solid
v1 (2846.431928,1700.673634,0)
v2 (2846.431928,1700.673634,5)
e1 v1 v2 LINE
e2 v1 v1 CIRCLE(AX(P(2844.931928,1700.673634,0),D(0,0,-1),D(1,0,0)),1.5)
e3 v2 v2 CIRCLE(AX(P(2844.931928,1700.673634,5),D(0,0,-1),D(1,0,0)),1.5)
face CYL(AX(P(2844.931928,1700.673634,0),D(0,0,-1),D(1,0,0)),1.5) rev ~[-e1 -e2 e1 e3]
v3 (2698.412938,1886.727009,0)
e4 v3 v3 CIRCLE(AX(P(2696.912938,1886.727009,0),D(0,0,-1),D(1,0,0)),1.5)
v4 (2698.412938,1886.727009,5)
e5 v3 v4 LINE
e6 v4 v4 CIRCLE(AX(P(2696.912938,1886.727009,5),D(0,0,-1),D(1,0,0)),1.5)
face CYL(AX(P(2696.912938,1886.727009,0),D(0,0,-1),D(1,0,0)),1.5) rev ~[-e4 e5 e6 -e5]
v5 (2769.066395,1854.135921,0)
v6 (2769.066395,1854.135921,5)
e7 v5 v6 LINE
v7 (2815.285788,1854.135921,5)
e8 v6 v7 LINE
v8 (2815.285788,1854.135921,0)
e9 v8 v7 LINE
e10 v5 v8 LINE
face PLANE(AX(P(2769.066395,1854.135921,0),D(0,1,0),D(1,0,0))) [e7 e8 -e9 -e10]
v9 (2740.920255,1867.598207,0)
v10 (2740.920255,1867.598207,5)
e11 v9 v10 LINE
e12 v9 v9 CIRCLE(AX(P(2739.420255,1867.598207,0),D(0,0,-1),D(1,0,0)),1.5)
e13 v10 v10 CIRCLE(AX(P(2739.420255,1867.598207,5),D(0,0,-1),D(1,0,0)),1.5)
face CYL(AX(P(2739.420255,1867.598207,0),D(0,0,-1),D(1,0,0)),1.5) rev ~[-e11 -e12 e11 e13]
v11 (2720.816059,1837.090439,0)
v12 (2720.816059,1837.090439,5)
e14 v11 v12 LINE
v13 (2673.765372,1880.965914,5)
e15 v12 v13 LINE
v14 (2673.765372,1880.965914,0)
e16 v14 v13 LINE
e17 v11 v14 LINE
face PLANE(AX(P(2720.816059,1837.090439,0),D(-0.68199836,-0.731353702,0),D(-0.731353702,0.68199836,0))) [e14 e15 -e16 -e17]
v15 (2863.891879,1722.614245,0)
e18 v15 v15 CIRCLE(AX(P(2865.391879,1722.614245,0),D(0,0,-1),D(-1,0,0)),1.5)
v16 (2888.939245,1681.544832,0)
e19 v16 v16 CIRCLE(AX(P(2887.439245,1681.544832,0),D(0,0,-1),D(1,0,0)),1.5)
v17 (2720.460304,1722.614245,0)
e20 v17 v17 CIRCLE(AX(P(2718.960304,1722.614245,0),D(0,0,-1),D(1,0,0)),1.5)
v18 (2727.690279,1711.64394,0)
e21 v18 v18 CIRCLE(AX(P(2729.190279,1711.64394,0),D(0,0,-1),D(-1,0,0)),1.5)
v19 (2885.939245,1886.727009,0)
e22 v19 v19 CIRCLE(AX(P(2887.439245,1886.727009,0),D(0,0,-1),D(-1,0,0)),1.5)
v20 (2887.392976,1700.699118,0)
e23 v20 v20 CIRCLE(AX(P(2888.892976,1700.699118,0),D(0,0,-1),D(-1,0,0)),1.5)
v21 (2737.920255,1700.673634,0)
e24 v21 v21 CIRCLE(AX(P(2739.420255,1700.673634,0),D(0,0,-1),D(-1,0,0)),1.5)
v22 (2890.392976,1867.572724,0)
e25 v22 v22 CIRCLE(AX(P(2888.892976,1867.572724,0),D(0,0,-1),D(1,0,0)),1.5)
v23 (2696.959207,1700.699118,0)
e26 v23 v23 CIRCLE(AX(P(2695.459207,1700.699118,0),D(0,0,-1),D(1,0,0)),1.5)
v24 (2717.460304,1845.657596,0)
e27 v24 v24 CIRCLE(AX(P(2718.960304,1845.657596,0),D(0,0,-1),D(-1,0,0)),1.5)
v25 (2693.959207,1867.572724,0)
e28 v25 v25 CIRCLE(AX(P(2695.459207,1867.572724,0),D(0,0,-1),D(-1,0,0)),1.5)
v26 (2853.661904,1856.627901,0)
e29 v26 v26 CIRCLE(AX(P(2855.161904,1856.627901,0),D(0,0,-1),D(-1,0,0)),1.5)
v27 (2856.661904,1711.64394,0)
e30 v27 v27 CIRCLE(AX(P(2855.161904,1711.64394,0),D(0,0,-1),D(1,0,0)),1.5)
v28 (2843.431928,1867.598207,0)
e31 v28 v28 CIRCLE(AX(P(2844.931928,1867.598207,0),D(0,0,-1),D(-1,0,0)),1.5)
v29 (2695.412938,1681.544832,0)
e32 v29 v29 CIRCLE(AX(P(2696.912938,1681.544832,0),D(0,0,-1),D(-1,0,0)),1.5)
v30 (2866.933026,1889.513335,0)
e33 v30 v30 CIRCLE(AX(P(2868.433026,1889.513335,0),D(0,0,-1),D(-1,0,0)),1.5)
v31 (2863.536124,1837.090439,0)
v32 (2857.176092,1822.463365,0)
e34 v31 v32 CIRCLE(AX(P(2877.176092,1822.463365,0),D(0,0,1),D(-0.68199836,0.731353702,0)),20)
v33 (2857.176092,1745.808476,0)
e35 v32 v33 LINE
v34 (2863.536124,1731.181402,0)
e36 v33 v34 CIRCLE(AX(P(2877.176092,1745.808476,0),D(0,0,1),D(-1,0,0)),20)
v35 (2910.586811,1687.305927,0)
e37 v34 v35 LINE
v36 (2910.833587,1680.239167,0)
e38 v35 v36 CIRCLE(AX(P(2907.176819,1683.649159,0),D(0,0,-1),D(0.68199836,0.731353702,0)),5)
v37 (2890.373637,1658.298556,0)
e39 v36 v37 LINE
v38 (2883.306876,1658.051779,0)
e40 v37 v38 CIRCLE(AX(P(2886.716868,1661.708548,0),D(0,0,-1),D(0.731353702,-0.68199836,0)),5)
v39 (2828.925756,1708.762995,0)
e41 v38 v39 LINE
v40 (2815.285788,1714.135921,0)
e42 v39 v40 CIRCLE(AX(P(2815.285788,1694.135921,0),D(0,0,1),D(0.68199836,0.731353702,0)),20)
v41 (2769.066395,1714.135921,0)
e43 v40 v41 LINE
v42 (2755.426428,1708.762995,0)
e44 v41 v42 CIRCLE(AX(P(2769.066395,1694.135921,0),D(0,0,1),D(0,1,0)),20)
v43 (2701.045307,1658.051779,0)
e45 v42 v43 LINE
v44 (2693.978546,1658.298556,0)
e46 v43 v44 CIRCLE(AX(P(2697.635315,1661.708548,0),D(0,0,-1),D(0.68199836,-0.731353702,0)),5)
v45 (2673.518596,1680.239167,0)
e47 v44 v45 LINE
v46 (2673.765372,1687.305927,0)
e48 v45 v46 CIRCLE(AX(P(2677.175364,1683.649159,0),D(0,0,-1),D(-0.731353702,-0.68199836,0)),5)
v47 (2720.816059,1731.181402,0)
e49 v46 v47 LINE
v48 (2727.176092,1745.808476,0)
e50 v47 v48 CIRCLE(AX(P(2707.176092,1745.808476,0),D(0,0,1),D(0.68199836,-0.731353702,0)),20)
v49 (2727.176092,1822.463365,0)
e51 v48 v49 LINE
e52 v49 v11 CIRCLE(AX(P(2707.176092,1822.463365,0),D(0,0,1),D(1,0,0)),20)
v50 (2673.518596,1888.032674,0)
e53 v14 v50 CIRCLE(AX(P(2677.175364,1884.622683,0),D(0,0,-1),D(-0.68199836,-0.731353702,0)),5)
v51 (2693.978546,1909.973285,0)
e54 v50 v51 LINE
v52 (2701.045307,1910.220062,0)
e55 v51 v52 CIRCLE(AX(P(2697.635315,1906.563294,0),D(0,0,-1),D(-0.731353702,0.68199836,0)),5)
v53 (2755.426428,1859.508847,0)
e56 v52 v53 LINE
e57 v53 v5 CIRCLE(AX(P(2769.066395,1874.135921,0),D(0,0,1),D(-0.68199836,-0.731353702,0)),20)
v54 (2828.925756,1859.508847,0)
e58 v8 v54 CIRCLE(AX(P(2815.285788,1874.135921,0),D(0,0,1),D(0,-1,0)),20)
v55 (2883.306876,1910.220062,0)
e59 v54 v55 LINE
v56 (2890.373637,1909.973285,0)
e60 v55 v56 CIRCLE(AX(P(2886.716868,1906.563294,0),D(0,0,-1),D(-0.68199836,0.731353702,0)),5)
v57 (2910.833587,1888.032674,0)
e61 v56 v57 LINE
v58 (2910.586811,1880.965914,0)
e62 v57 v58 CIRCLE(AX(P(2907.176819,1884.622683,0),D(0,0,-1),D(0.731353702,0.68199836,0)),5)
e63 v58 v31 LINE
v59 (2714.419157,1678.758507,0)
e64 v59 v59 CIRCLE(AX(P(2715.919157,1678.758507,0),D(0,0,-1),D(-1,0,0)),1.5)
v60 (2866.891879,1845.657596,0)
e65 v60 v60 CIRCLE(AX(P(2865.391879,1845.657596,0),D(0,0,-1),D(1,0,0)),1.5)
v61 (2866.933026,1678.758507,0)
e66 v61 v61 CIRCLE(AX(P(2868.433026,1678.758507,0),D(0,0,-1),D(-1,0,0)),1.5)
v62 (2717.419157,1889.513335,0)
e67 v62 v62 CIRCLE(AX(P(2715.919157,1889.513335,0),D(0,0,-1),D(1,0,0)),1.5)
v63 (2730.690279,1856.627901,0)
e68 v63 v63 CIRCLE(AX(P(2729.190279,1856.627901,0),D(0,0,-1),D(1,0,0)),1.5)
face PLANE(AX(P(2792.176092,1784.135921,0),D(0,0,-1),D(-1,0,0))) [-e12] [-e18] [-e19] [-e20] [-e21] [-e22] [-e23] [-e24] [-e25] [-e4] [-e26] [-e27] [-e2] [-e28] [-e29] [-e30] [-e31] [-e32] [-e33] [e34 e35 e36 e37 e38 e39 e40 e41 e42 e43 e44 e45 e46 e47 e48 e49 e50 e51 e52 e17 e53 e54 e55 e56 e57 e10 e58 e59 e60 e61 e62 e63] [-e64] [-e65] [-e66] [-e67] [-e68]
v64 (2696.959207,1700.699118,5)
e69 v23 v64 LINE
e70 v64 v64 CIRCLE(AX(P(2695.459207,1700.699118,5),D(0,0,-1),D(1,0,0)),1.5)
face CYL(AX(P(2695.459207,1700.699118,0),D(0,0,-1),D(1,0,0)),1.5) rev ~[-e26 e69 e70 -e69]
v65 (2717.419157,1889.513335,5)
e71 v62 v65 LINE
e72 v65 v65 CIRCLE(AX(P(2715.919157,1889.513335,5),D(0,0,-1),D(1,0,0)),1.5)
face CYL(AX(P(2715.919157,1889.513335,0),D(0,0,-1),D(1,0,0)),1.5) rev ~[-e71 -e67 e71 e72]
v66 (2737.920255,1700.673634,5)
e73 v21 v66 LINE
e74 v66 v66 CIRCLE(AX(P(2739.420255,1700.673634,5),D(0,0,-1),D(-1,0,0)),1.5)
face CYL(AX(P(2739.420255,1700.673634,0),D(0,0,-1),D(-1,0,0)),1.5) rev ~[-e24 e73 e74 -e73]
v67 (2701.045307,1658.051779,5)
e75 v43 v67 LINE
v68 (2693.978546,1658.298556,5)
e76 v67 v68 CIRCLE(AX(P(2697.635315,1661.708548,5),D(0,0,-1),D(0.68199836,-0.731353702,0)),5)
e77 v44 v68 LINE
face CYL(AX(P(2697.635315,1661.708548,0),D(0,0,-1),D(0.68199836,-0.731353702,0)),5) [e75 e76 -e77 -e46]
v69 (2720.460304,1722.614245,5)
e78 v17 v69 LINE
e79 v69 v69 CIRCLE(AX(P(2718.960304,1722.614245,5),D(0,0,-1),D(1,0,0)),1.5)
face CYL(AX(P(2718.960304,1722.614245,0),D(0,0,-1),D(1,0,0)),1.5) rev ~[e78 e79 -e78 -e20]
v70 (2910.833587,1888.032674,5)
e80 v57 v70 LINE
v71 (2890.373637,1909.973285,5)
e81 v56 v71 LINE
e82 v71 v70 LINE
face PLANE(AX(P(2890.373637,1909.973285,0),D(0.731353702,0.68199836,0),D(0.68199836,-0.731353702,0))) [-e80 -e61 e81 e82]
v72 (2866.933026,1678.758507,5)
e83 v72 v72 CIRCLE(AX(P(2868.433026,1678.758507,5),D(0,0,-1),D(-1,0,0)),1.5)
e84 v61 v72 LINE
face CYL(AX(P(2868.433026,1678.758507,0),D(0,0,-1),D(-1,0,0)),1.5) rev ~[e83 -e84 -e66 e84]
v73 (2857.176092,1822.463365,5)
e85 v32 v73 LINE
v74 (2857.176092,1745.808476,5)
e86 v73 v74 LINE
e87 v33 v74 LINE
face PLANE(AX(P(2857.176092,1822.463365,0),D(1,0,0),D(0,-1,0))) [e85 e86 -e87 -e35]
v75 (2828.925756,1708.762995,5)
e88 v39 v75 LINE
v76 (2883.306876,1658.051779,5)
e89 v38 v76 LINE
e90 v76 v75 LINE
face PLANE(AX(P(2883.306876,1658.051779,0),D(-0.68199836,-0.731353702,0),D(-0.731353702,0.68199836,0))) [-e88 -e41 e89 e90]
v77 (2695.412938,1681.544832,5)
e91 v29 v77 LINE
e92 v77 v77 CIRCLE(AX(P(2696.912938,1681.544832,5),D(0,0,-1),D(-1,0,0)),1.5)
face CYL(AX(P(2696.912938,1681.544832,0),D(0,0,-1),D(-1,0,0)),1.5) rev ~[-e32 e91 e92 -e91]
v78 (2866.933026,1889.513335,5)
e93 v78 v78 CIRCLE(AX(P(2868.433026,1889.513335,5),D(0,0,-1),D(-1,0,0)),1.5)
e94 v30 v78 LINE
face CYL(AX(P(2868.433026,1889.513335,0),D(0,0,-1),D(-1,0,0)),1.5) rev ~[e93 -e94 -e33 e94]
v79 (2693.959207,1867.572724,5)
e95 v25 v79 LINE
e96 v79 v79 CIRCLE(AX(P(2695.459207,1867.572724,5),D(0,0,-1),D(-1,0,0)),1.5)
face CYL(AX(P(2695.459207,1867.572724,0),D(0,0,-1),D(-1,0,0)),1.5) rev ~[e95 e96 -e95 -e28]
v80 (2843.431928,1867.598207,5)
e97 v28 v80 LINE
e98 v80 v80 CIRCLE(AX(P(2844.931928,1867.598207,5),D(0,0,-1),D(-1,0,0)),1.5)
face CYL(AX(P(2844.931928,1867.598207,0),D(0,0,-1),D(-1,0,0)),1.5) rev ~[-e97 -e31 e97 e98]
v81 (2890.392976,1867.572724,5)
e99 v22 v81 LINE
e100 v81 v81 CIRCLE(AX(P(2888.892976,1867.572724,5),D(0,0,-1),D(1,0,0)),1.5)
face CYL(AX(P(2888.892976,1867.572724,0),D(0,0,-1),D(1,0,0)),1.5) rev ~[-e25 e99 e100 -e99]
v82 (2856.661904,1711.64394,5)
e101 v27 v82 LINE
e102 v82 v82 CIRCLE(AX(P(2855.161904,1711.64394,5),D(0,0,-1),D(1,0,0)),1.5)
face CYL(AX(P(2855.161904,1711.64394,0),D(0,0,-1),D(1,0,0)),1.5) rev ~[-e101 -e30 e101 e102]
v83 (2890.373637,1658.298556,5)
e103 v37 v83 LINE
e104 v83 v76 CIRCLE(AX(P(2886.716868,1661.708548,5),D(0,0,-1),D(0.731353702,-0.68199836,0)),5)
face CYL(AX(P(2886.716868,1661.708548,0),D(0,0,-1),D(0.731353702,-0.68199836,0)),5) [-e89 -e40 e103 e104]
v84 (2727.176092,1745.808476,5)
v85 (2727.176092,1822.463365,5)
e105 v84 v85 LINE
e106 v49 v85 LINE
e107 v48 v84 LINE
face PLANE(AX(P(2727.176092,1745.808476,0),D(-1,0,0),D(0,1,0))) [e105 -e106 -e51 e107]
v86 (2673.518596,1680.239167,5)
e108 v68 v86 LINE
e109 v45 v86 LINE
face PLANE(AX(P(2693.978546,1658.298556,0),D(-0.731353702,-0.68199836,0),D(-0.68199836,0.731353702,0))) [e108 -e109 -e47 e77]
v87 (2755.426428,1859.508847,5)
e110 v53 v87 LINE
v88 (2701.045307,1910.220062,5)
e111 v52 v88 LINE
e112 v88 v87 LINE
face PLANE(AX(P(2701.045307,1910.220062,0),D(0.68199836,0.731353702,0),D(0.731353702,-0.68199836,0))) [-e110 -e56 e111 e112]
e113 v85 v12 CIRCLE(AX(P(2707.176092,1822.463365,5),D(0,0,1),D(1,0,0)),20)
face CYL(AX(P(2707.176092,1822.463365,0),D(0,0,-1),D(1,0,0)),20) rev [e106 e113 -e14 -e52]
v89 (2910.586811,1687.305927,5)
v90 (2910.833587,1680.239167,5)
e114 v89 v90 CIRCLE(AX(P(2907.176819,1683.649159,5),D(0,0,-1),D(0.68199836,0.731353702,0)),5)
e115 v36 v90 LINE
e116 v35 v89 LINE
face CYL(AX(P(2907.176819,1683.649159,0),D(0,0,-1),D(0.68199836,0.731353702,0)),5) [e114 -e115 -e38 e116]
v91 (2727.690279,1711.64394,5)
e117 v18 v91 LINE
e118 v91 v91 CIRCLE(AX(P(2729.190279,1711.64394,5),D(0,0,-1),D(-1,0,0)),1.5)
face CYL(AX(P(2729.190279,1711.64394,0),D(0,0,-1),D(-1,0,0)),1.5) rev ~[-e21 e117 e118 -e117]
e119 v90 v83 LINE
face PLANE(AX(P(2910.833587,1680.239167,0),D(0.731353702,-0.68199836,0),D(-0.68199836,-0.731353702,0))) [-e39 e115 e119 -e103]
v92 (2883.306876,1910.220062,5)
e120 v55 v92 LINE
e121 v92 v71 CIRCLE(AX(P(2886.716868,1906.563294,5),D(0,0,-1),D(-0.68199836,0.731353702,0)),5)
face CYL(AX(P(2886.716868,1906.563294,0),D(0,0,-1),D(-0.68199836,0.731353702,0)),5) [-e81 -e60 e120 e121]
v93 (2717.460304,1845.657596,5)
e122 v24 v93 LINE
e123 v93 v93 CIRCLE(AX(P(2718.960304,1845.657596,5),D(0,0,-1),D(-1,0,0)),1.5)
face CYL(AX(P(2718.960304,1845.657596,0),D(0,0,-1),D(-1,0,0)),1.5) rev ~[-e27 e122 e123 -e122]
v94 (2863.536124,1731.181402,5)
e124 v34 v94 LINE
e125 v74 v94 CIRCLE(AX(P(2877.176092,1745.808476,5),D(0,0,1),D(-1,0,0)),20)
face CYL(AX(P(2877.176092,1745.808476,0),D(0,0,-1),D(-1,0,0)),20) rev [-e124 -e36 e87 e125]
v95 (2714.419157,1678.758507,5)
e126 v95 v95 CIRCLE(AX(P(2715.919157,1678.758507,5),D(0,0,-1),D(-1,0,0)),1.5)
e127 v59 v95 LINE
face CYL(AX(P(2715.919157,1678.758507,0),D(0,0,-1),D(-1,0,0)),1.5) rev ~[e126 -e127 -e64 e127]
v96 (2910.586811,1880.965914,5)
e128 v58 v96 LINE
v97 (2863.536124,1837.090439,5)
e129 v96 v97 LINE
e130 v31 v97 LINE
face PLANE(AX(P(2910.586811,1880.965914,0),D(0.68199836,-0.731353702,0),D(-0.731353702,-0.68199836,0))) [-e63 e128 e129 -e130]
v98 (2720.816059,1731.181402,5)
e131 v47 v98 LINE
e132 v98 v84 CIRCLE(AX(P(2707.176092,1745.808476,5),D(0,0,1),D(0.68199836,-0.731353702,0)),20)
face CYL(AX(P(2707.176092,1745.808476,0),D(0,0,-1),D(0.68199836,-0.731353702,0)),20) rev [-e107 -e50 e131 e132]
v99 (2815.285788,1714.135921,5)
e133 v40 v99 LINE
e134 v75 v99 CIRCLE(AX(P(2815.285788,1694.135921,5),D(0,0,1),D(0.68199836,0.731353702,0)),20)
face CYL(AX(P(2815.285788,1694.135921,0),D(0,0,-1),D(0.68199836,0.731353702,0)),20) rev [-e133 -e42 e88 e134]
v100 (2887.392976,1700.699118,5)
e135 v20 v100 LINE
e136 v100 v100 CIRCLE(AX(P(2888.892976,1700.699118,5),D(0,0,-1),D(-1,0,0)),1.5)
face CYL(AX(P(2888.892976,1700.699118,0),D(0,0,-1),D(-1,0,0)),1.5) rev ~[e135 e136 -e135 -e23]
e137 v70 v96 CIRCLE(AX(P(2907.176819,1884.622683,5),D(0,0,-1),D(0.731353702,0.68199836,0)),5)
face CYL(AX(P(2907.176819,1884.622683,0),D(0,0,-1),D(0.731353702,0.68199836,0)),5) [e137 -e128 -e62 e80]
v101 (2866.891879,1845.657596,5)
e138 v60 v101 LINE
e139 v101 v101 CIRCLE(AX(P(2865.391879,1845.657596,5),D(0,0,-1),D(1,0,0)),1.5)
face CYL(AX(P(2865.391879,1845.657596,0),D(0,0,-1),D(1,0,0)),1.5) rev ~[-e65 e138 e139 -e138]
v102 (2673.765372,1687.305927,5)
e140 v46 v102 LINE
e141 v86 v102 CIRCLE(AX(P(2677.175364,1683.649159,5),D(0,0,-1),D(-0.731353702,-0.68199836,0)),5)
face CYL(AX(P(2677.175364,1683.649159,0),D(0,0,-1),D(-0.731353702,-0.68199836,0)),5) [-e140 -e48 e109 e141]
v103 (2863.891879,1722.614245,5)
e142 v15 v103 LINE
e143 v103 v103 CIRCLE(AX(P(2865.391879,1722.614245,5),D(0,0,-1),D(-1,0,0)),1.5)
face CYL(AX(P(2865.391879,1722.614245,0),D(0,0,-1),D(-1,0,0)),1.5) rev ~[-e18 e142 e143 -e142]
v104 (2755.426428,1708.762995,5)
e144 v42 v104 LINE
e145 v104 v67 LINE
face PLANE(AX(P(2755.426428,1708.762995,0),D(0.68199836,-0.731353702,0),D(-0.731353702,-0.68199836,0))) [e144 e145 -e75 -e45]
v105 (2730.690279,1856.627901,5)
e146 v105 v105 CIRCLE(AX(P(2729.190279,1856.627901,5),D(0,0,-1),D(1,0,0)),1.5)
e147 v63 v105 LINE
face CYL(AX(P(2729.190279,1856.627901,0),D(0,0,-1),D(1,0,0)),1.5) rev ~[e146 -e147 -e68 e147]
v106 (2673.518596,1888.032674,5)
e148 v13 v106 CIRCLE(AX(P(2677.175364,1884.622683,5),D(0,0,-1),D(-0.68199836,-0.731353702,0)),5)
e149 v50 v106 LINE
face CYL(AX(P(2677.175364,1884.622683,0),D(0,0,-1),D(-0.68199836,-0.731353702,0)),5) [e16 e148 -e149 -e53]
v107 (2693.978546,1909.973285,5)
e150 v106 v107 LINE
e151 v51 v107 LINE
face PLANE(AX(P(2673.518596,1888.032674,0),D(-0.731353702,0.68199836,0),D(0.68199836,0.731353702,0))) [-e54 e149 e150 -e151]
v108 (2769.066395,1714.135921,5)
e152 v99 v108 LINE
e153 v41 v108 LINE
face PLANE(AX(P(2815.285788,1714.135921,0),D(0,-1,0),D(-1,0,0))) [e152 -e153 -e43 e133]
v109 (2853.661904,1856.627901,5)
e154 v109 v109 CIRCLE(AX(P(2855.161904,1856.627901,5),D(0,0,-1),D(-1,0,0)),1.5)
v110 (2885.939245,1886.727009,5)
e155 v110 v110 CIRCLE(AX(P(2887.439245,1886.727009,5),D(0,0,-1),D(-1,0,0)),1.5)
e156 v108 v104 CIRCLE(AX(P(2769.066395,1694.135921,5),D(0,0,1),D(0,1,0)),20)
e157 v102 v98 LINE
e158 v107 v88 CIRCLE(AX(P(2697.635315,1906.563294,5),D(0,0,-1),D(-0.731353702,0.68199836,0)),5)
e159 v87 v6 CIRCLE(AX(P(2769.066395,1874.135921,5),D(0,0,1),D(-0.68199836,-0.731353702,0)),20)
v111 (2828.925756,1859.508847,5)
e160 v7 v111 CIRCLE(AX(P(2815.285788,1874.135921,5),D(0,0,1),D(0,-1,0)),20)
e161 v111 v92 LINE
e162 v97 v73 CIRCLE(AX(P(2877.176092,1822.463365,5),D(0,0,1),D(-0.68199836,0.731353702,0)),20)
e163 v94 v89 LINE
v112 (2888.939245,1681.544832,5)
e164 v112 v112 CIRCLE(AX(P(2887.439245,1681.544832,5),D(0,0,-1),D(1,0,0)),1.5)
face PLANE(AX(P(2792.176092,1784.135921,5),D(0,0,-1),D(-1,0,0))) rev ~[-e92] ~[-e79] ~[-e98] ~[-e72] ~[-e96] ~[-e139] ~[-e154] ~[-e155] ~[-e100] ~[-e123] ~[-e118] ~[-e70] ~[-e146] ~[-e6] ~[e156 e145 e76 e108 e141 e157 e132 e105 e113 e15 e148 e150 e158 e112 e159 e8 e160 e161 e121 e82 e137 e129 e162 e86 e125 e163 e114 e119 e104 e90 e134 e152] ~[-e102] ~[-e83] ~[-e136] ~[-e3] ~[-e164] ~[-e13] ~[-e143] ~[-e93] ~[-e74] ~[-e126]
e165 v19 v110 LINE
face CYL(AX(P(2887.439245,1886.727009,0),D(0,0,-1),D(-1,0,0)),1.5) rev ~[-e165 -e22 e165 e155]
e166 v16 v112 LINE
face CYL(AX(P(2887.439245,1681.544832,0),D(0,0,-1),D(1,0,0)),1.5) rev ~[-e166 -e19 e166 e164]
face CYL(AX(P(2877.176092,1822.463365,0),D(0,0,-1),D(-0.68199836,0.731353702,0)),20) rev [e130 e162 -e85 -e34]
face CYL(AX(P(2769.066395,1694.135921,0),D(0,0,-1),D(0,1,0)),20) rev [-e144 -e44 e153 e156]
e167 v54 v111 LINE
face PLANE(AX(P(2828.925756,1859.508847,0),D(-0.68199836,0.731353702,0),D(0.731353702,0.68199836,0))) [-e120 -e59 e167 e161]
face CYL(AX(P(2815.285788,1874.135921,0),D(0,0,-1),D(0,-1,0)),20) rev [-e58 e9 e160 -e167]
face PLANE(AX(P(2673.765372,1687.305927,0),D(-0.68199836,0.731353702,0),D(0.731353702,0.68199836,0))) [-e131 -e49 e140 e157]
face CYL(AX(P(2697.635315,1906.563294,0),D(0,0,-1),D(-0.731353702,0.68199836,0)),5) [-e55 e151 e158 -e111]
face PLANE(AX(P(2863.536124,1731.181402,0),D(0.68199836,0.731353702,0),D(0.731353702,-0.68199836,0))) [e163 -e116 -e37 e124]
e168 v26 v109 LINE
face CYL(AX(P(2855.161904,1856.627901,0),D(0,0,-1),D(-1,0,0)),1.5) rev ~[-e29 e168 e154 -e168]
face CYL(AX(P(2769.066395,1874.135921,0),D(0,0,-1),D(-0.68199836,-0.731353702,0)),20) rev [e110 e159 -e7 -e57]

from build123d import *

# Parameters (mm, degrees)
EXTRUDE_1_DEPTH     = 5
SKETCH_3_R          = 1.5
CUT_EXTRUDE_1_DEPTH = 10
SKETCH_4_R          = 1.5
CUT_EXTRUDE_2_DEPTH = 10
SKETCH_5_R          = 1.5
CUT_EXTRUDE_3_DEPTH = 33


with BuildPart() as part:
    # 草图2 → 凸台-拉伸1 (new body)
    with BuildSketch(Plane.XY):
        with BuildLine():
            Line((2769.066394733, 1854.135920645), (2815.285788336, 1854.135920645))
            ThreePointArc((2815.285788336, 1854.135920645), (2822.615812871, 1855.527569285), (2828.925755538, 1859.508846613))
            Line((2828.925755538, 1859.508846613), (2883.306876366, 1910.220062186))
            ThreePointArc((2883.306876366, 1910.220062186), (2886.89136565, 1911.560247813), (2890.373636674, 1909.973285478))
            Line((2890.373636674, 1909.973285478), (2910.833587476, 1888.03267443))
            ThreePointArc((2910.833587476, 1888.03267443), (2912.173773103, 1884.448185146), (2910.586810768, 1880.965914121))
            Line((2910.586810768, 1880.965914121), (2863.536124333, 1837.090439207))
            ThreePointArc((2863.536124333, 1837.090439207), (2858.834890047, 1830.438346554), (2857.176091534, 1822.463365175))
            Line((2857.176091534, 1822.463365175), (2857.176091534, 1745.808476115))
            ThreePointArc((2857.176091534, 1745.808476115), (2858.834890047, 1737.833494737), (2863.536124333, 1731.181402083))
            Line((2863.536124333, 1731.181402083), (2910.586810768, 1687.305927169))
            ThreePointArc((2910.586810768, 1687.305927169), (2912.173773103, 1683.823656144), (2910.833587476, 1680.239166861))
            Line((2910.833587476, 1680.239166861), (2890.373636674, 1658.298555812))
            ThreePointArc((2890.373636674, 1658.298555812), (2886.89136565, 1656.711593477), (2883.306876366, 1658.051779104))
            Line((2883.306876366, 1658.051779104), (2828.925755538, 1708.762994677))
            ThreePointArc((2828.925755538, 1708.762994677), (2822.615812871, 1712.744272005), (2815.285788336, 1714.135920645))
            Line((2815.285788336, 1714.135920645), (2769.066394733, 1714.135920645))
            ThreePointArc((2769.066394733, 1714.135920645), (2761.736370198, 1712.744272005), (2755.426427531, 1708.762994677))
            Line((2755.426427531, 1708.762994677), (2701.045306703, 1658.051779104))
            ThreePointArc((2701.045306703, 1658.051779104), (2697.460817419, 1656.711593477), (2693.978546395, 1658.298555812))
            Line((2693.978546395, 1658.298555812), (2673.518595593, 1680.239166861))
            ThreePointArc((2673.518595593, 1680.239166861), (2672.178409966, 1683.823656144), (2673.765372301, 1687.305927169))
            Line((2673.765372301, 1687.305927169), (2720.816058736, 1731.181402083))
            ThreePointArc((2720.816058736, 1731.181402083), (2725.517293022, 1737.833494737), (2727.176091534, 1745.808476115))
            Line((2727.176091534, 1745.808476115), (2727.176091534, 1822.463365175))
            ThreePointArc((2727.176091534, 1822.463365175), (2725.517293022, 1830.438346554), (2720.816058736, 1837.090439207))
            Line((2720.816058736, 1837.090439207), (2673.765372301, 1880.965914121))
            ThreePointArc((2673.765372301, 1880.965914121), (2672.178409966, 1884.448185146), (2673.518595593, 1888.03267443))
            Line((2673.518595593, 1888.03267443), (2693.978546395, 1909.973285478))
            ThreePointArc((2693.978546395, 1909.973285478), (2697.460817419, 1911.560247813), (2701.045306703, 1910.220062186))
            Line((2701.045306703, 1910.220062186), (2755.426427531, 1859.508846613))
            ThreePointArc((2755.426427531, 1859.508846613), (2761.736370198, 1855.527569285), (2769.066394733, 1854.135920645))
        make_face()
    extrude(amount=EXTRUDE_1_DEPTH)

    # 草图3 → 切除-拉伸1 (cut)
    with BuildSketch(Plane(origin=(0, 0, 0), x_dir=(-1, 0, 0), z_dir=(0, 0, -1))):
        with Locations((-2868.433025626, 1678.758506614)):
            Circle(SKETCH_3_R)
        with Locations((-2888.892976427, 1700.699117662)):
            Circle(SKETCH_3_R)
        with Locations(Location((-2888.892976427, 1867.572723628, 0), (0, 0, 180))):
            Circle(SKETCH_3_R)
        with Locations((-2868.433025626, 1889.513334676)):
            Circle(SKETCH_3_R)
        with Locations((-2695.459206642, 1867.572723628)):
            Circle(SKETCH_3_R)
        with Locations(Location((-2715.919157443, 1889.513334676, 0), (0, 0, 180))):
            Circle(SKETCH_3_R)
        with Locations((-2715.919157443, 1678.758506614)):
            Circle(SKETCH_3_R)
        with Locations(Location((-2695.459206642, 1700.699117662, 0), (0, 0, 180))):
            Circle(SKETCH_3_R)
    extrude(amount=-CUT_EXTRUDE_1_DEPTH, mode=Mode.SUBTRACT)

    # 草图4 → 切除-拉伸2 (cut)
    with BuildSketch(Plane(origin=(0, 0, 0), x_dir=(-1, 0, 0), z_dir=(0, 0, -1))):
        with Locations((-2887.439245446, 1886.727009473)):
            Circle(SKETCH_4_R)
        with Locations(Location((-2696.912937623, 1886.727009473, 0), (0, 0, 180))):
            Circle(SKETCH_4_R)
        with Locations((-2696.912937623, 1681.544831817)):
            Circle(SKETCH_4_R)
        with Locations(Location((-2887.439245446, 1681.544831817, 0), (0, 0, 180))):
            Circle(SKETCH_4_R)
    extrude(amount=-CUT_EXTRUDE_2_DEPTH, mode=Mode.SUBTRACT)

    # 草图5 → 切除-拉伸3 (cut)
    with BuildSketch(Plane(origin=(0, 0, 0), x_dir=(-1, 0, 0), z_dir=(0, 0, -1))):
        with Locations((-2739.420254686, 1700.673634334)):
            Circle(SKETCH_5_R)
        with Locations(Location((-2718.960303884, 1722.614245382, 0), (0, 0, 180))):
            Circle(SKETCH_5_R)
        with Locations((-2729.190279285, 1711.643939858)):
            Circle(SKETCH_5_R)
        with Locations(Location((-2729.190279285, 1856.627901432, 0), (0, 0, 180))):
            Circle(SKETCH_5_R)
        with Locations((-2718.960303884, 1845.657595908)):
            Circle(SKETCH_5_R)
        with Locations(Location((-2739.420254686, 1867.598206957, 0), (0, 0, 180))):
            Circle(SKETCH_5_R)
        with Locations((-2844.931928383, 1867.598206957)):
            Circle(SKETCH_5_R)
        with Locations(Location((-2865.391879185, 1845.657595908, 0), (0, 0, 180))):
            Circle(SKETCH_5_R)
        with Locations((-2855.161903784, 1856.627901432)):
            Circle(SKETCH_5_R)
        with Locations(Location((-2855.161903784, 1711.643939858, 0), (0, 0, 180))):
            Circle(SKETCH_5_R)
        with Locations((-2865.391879185, 1722.614245382)):
            Circle(SKETCH_5_R)
        with Locations(Location((-2844.931928383, 1700.673634334, 0), (0, 0, 180))):
            Circle(SKETCH_5_R)
    extrude(amount=-CUT_EXTRUDE_3_DEPTH, mode=Mode.SUBTRACT)


solid = part.part
